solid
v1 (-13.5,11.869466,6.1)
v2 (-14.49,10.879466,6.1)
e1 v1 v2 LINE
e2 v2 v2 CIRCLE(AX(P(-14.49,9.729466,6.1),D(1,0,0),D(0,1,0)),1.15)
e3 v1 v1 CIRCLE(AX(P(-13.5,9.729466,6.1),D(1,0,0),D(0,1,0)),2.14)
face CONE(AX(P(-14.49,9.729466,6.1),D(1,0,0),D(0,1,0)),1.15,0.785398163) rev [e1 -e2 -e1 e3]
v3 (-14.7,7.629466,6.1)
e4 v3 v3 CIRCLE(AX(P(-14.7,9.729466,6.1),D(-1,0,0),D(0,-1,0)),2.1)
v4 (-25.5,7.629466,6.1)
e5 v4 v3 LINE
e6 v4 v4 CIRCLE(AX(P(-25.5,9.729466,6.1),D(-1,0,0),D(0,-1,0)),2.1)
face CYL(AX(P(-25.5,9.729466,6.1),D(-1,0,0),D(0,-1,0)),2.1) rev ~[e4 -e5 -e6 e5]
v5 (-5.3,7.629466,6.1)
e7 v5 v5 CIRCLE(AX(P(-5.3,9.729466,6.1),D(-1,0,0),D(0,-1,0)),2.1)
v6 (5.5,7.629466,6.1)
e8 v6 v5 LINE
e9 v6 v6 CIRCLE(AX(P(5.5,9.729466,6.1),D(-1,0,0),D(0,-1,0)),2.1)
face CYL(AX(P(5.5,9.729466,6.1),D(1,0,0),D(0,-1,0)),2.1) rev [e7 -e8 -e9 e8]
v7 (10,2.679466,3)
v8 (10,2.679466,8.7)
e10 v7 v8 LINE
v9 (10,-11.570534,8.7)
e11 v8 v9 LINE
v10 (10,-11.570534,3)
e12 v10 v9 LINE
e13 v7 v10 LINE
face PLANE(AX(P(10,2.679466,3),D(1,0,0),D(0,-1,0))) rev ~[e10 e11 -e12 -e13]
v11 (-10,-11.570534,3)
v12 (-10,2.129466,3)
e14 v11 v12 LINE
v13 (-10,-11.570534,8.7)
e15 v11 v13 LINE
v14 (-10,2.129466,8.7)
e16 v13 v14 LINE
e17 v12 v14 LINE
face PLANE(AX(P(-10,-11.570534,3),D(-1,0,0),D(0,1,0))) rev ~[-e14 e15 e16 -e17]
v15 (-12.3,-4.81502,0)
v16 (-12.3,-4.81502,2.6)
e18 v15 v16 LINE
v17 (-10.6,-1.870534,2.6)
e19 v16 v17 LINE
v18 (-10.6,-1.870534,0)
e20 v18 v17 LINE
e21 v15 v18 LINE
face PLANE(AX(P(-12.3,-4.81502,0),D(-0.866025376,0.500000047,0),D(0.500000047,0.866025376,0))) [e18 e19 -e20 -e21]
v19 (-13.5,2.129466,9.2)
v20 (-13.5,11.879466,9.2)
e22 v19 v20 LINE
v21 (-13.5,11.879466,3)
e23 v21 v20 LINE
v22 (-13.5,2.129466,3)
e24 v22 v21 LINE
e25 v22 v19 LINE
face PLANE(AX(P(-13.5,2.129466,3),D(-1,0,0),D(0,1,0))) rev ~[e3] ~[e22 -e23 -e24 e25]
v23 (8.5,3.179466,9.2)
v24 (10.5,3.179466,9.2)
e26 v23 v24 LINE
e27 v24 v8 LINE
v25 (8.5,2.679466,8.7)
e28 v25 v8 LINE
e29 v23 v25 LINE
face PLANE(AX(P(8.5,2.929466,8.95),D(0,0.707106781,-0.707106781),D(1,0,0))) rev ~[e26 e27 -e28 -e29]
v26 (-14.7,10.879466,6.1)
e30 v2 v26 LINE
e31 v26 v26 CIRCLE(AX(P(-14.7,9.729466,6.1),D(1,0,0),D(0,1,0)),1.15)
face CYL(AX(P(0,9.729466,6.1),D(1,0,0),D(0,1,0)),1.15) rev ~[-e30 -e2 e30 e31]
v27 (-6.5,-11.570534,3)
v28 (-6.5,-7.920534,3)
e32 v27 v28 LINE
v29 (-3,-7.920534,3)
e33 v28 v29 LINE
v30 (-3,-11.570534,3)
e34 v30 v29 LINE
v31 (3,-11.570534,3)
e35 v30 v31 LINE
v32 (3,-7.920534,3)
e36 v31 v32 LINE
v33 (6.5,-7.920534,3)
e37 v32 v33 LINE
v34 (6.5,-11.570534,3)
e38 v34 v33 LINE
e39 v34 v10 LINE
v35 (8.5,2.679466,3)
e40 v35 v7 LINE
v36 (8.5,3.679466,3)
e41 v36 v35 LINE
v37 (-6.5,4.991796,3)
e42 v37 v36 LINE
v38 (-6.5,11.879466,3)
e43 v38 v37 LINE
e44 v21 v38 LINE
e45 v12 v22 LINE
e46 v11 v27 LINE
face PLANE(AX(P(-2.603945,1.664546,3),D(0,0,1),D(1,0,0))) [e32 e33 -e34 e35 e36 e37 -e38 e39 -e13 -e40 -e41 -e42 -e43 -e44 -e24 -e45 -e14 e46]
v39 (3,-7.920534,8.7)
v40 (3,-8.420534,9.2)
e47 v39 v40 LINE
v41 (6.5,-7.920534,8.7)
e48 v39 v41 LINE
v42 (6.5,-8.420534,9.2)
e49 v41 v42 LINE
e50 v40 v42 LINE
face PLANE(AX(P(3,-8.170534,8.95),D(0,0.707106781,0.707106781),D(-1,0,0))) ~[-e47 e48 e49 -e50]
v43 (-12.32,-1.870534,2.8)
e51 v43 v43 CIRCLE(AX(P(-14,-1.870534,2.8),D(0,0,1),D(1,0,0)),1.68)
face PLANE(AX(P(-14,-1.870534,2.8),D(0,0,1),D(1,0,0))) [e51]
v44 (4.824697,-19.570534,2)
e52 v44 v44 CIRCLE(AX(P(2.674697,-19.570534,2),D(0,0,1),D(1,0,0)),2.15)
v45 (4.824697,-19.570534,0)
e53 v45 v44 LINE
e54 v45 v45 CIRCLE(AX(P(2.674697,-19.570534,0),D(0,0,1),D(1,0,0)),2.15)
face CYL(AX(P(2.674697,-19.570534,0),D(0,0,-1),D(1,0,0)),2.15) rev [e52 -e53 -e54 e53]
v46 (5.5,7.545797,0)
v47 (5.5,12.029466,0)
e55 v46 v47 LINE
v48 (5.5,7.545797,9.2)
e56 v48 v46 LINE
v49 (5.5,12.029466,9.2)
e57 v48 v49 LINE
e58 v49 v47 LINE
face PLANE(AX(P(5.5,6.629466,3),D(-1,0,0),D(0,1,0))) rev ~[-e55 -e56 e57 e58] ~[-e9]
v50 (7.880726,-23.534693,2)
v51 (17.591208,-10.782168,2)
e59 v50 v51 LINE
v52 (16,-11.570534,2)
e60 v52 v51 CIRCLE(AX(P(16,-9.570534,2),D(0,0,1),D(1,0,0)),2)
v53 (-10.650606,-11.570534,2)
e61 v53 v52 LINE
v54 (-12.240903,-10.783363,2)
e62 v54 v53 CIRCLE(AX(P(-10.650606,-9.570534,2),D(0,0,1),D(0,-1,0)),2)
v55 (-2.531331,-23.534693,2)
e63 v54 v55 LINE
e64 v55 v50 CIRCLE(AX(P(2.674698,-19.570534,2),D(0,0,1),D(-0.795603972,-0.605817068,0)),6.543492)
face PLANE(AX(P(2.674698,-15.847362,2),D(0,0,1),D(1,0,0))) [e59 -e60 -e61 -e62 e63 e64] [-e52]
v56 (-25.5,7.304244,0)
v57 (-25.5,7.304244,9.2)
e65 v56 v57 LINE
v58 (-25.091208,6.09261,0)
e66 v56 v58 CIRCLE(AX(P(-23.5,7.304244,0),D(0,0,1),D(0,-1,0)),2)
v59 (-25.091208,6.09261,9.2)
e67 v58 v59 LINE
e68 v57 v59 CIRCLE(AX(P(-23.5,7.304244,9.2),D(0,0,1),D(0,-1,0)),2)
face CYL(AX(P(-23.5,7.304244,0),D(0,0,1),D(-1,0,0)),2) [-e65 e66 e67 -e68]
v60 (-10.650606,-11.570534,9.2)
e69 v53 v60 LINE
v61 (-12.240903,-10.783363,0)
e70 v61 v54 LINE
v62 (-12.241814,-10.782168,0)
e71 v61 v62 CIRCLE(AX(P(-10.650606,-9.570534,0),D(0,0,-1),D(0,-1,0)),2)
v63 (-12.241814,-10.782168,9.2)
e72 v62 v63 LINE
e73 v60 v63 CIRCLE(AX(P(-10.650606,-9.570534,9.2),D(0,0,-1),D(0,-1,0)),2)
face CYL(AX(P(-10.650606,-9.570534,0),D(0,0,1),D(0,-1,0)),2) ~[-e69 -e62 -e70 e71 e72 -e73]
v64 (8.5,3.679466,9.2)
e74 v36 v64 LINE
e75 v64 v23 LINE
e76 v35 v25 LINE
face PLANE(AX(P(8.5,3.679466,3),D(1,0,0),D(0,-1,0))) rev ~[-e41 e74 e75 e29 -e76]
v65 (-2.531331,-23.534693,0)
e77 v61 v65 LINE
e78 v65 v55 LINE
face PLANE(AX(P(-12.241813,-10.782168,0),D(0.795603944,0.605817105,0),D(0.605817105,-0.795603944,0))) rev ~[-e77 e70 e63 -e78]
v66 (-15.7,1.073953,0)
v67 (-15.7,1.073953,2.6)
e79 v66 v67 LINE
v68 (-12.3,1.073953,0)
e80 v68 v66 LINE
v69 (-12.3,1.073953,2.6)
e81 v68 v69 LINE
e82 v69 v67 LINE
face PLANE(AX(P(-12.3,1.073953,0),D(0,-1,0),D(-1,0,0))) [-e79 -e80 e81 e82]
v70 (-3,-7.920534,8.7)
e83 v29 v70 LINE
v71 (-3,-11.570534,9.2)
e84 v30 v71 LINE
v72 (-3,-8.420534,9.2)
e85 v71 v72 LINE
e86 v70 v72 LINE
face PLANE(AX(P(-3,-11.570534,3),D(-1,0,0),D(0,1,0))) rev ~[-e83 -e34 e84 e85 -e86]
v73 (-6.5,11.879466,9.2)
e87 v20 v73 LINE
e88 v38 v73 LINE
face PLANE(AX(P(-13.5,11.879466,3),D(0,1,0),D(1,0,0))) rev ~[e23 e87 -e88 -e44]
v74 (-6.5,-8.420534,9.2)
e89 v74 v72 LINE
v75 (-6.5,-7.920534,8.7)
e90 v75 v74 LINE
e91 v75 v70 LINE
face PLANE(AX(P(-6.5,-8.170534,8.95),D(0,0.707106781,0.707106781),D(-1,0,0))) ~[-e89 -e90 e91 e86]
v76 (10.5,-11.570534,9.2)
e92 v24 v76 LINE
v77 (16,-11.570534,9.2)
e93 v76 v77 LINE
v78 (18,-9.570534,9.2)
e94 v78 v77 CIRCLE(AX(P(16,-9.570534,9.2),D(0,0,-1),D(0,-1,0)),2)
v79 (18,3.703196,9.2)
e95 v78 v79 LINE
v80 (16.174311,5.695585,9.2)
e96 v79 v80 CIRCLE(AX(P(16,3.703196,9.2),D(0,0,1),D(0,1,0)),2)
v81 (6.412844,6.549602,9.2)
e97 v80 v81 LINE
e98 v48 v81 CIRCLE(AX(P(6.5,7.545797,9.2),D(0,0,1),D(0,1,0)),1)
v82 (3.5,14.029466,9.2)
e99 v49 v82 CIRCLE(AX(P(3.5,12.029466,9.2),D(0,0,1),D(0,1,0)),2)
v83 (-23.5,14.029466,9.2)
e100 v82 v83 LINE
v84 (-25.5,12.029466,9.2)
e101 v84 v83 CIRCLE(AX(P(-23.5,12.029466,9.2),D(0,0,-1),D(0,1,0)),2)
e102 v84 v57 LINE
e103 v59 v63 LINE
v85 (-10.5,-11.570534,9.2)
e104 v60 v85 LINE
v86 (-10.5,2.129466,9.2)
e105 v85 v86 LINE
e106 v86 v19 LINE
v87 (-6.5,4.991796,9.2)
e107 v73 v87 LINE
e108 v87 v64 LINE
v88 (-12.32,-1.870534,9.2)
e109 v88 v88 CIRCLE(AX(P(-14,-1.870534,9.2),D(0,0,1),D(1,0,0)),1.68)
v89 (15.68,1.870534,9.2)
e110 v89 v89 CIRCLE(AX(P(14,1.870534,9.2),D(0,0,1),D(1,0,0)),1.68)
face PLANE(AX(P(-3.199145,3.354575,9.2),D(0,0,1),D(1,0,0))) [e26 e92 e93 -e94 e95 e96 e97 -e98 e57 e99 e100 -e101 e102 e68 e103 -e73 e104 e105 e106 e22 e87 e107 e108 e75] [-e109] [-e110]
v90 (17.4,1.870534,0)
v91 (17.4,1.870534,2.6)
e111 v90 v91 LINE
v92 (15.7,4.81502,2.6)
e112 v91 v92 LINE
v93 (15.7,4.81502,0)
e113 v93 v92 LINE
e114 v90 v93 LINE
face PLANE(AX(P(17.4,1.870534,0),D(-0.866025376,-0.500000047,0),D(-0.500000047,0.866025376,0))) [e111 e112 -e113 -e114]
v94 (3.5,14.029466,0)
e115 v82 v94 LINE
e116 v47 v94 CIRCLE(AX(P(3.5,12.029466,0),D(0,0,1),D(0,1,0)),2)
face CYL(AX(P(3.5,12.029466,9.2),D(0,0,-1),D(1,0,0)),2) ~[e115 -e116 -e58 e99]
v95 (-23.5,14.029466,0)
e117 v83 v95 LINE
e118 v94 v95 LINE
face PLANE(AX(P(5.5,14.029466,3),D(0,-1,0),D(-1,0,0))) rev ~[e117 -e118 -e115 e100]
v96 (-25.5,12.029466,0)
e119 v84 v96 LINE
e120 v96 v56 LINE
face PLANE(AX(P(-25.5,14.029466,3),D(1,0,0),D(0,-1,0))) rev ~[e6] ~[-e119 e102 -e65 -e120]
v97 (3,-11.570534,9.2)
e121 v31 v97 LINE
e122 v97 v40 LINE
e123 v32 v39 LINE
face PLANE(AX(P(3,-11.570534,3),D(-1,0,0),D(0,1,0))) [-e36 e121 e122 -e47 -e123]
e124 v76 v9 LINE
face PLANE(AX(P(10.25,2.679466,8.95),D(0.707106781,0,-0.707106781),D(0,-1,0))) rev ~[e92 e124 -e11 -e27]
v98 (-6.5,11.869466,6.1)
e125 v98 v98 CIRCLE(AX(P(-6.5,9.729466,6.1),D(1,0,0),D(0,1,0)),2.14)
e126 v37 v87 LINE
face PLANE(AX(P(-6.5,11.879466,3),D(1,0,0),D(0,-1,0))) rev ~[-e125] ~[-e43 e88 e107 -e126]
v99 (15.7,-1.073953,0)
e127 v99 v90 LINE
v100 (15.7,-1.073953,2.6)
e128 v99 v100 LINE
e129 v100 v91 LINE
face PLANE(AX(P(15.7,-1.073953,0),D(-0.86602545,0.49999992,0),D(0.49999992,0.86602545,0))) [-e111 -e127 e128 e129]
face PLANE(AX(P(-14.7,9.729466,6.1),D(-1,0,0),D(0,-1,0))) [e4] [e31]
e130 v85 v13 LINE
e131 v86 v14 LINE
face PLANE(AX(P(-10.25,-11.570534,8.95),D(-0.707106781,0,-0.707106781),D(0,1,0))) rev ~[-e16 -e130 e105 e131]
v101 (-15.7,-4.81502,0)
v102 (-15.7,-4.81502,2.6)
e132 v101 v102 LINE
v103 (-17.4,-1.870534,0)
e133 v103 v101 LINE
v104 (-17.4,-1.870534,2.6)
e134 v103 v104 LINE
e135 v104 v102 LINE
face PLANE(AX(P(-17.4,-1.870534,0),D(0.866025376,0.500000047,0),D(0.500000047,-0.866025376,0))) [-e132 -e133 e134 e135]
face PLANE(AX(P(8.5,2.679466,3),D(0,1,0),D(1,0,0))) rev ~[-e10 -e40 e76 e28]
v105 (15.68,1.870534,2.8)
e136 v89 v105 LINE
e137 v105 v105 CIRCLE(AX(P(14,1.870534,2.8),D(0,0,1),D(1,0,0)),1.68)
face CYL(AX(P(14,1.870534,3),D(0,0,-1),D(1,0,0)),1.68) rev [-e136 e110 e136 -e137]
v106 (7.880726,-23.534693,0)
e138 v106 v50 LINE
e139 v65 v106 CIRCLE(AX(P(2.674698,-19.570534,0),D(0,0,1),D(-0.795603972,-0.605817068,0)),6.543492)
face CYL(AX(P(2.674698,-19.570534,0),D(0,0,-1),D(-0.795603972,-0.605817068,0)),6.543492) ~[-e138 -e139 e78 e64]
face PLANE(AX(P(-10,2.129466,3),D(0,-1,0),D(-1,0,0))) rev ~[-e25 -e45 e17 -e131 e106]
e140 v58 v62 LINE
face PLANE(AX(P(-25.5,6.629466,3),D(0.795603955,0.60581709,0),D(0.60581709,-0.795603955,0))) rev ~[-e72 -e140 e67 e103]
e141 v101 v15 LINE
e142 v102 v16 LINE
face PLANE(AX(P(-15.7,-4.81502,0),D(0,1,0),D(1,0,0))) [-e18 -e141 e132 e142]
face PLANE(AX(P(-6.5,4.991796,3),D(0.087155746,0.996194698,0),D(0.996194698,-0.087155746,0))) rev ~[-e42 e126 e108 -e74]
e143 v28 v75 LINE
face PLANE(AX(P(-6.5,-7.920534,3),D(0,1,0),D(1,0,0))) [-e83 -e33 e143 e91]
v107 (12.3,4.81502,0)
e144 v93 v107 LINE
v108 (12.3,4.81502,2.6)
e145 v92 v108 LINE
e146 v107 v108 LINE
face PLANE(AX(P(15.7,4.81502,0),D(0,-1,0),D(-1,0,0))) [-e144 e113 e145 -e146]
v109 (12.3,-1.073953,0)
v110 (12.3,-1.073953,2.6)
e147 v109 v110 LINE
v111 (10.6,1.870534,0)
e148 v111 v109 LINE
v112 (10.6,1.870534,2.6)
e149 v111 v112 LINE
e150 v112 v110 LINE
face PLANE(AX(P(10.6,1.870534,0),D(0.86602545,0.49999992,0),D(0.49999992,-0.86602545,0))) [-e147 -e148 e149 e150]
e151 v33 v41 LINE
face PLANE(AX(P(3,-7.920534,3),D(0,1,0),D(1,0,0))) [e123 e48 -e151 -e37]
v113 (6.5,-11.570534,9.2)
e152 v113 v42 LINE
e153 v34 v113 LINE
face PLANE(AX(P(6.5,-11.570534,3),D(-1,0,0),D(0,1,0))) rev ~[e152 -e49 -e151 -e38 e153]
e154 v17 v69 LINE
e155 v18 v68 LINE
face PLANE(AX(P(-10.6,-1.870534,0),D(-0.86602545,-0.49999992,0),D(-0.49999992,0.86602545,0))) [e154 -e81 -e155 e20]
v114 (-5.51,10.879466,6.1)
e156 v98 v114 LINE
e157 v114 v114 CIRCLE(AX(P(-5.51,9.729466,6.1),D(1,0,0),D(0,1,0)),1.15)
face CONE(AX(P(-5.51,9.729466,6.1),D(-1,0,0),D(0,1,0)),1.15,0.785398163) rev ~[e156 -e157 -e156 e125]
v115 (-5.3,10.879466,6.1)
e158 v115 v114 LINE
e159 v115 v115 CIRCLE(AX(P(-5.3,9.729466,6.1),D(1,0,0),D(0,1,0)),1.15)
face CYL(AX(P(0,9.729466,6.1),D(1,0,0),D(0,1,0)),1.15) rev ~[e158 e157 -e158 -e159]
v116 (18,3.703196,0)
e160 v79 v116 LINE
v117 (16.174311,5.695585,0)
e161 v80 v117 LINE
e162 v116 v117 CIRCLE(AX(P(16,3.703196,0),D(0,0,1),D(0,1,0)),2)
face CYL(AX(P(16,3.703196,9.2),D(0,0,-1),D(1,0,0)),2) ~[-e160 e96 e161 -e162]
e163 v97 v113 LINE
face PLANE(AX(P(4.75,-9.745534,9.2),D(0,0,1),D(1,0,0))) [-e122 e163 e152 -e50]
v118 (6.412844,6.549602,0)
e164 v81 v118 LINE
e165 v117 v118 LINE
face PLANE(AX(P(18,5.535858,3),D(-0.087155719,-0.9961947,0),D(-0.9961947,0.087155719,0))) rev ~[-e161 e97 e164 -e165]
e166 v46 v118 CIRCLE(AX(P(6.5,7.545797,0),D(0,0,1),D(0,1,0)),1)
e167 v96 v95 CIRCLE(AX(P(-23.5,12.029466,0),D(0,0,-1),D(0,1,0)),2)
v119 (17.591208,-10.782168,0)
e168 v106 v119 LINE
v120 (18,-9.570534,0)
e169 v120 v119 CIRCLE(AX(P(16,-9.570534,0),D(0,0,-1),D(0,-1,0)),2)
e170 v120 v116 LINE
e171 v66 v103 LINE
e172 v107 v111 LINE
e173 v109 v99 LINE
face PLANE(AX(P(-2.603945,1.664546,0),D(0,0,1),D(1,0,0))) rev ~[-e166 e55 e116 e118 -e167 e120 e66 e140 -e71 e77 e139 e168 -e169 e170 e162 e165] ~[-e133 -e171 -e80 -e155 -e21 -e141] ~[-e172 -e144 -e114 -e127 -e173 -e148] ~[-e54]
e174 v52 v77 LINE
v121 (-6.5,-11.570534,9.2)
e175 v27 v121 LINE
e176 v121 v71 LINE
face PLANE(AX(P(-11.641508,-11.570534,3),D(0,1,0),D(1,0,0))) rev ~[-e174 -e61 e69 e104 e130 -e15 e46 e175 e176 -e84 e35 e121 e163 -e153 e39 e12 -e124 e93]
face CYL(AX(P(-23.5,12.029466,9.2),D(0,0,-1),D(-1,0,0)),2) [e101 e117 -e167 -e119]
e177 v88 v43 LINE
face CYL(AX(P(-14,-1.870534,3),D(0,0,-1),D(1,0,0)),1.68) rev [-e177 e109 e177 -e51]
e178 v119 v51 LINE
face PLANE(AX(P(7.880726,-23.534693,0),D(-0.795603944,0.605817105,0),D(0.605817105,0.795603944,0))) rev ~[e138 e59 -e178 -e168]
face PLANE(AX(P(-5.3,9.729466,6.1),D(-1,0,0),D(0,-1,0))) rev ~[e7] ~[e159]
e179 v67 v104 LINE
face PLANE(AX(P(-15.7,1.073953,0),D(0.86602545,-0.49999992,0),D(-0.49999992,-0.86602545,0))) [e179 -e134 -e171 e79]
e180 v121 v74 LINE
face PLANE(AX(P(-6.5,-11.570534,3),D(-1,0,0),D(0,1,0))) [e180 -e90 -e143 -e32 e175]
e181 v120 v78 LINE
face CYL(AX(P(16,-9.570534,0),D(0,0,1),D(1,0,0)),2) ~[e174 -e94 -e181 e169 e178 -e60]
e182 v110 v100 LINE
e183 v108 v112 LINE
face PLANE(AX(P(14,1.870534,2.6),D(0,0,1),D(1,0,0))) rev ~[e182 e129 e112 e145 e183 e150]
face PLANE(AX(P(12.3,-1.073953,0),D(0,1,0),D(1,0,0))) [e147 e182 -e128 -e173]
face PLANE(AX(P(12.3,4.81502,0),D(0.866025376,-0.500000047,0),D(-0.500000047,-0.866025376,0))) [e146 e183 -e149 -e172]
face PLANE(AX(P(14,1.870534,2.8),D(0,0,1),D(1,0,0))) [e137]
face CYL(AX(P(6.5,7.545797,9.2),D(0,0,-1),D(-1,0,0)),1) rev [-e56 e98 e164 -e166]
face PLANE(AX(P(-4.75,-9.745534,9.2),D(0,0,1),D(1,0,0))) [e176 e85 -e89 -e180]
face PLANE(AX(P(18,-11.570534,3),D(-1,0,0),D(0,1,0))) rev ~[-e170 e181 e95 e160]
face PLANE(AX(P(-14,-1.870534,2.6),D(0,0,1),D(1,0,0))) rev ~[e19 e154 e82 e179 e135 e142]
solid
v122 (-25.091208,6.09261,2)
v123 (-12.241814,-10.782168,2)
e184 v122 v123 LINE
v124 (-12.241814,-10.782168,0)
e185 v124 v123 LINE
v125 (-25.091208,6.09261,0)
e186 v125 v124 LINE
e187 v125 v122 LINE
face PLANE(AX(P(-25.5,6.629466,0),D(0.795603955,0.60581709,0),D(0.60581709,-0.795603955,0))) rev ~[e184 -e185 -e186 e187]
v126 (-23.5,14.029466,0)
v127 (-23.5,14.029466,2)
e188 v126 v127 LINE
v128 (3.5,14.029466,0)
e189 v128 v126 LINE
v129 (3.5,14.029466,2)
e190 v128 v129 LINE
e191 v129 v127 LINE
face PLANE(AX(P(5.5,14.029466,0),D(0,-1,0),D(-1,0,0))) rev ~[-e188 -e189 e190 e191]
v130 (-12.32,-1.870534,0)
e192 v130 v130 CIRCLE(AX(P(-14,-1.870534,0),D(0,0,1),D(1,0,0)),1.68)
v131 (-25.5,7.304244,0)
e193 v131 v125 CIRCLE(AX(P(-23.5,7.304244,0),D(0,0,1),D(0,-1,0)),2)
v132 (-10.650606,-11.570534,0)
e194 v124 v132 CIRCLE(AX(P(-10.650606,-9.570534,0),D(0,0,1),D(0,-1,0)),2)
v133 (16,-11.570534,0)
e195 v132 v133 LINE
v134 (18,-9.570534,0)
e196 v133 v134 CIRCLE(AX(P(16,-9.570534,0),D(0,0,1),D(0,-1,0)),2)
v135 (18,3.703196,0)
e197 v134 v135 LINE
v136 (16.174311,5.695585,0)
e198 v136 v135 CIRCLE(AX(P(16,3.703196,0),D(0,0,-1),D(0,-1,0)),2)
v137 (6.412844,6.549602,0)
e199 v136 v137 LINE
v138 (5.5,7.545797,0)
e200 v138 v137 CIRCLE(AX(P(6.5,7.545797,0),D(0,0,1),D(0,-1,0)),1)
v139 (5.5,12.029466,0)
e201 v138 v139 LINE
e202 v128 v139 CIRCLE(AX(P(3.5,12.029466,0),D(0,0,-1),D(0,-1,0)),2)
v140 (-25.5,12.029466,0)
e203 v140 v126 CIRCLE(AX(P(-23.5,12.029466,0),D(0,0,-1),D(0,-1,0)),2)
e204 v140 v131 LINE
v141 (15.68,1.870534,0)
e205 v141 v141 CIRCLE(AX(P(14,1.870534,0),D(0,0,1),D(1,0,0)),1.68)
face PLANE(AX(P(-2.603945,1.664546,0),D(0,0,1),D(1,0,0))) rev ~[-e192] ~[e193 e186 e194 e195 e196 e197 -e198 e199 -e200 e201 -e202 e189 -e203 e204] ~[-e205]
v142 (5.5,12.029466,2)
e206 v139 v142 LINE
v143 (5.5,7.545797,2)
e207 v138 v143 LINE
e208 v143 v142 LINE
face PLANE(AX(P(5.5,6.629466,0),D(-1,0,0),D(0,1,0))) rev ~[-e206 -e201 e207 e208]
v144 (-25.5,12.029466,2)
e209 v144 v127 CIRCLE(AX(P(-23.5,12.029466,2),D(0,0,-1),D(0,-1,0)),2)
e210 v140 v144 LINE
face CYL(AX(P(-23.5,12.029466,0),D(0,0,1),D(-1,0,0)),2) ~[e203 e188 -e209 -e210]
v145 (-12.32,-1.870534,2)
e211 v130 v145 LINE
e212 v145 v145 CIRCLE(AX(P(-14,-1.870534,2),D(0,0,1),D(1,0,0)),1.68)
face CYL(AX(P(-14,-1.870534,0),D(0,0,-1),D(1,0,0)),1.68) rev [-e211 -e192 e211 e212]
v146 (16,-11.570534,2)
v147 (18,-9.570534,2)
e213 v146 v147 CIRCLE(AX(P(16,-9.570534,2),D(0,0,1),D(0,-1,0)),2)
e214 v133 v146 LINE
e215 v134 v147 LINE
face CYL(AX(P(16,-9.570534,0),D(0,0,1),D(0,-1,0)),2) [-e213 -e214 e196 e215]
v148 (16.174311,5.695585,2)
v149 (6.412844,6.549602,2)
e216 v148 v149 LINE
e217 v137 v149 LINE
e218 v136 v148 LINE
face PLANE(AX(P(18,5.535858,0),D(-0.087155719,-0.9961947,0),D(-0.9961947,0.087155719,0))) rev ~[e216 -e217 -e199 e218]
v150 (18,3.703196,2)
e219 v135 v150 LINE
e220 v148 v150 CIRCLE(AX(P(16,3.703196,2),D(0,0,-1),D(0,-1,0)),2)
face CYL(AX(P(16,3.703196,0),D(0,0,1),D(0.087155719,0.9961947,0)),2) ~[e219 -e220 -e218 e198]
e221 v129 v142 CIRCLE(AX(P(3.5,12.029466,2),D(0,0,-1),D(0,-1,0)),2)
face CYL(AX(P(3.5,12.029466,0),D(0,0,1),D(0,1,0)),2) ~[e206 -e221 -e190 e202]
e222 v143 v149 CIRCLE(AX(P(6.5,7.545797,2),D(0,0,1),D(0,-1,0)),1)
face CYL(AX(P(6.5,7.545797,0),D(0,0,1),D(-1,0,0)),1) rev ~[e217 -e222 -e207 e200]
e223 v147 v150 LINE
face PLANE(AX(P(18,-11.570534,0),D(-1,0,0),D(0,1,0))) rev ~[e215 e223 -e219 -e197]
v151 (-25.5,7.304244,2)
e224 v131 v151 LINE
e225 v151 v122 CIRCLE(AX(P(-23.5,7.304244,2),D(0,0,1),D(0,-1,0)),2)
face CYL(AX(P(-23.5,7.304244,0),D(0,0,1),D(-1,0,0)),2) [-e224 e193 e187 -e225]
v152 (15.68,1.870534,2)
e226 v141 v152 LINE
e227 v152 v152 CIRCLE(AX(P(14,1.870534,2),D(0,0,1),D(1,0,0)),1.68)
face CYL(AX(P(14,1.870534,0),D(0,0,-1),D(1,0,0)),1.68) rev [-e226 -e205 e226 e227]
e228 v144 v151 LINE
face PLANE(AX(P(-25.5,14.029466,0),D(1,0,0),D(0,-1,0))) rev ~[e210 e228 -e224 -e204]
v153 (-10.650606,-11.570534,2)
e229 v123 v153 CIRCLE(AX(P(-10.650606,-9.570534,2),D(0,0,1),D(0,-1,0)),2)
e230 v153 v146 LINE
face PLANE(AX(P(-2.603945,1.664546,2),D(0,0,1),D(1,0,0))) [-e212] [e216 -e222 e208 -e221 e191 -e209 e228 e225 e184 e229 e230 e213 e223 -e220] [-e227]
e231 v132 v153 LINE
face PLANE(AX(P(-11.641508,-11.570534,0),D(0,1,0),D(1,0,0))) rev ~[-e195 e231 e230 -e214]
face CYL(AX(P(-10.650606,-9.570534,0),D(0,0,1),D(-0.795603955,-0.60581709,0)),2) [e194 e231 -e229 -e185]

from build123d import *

# Parameters (mm, degrees)
SKETCH007_R       = 1.68
PAD002_DEPTH      = 2
FILLET002_R       = 2
FILLET003_R       = 1
PAD_DEPTH         = 3
POCKET003_DEPTH   = 2.6
SKETCH009_R       = 1.68
POCKET004_DEPTH   = 0.2
SKETCH004_R       = 1.68
SKETCH004_W       = 3.5
SKETCH004_H       = 3.65
PAD001_DEPTH      = 6.2
FILLET_R          = 2
FILLET001_R       = 1
SKETCH003_R       = 1.15
POCKET_DEPTH      = 25.501
POCKET_DEPTH_BACK = 18.001
CHAMFER_SIZE      = 0.99
SKETCH005_R       = 2.1
POCKET001_DEPTH   = 10.8
SKETCH006_R       = 2.1
POCKET002_DEPTH   = 10.8
CHAMFER001_SIZE   = 0.5
SKETCH010_R       = 2.15
PAD003_DEPTH      = 2


with BuildPart() as lid:
    # Sketch007 → Pad002 (new body)
    with BuildSketch(Plane.XY):
        Polygon((-25.5, 14.029466), (-25.5, 6.629466), (-11.641508, -11.570534), (18, -11.570534), (18, 5.535858), (5.5, 6.629466), (5.5, 14.029466), align=None)
        with Locations((-14, -1.870534)):
            Circle(SKETCH007_R, mode=Mode.SUBTRACT)
        with Locations((14, 1.870534)):
            Circle(SKETCH007_R, mode=Mode.SUBTRACT)
    extrude(amount=PAD002_DEPTH)

    # Fillet002
    fillet002_edges = [lid.edges().sort_by_distance(p)[0] for p in [
        (-25.5, 14.029466, 1),
        (5.5, 14.029466, 1),
        (18, 5.535858, 1),
        (18, -11.570534, 1),
        (-11.641508, -11.570534, 1),
        (-25.5, 6.629466, 1),
    ]]
    fillet(fillet002_edges, radius=FILLET002_R)

    # Fillet003
    fillet003_edges = [lid.edges().sort_by_distance(p)[0] for p in [
        (5.5, 6.629466, 1),
    ]]
    fillet(fillet003_edges, radius=FILLET003_R)


with BuildPart() as fixswitchbay:
    # Sketch001 → Pad (new body)
    with BuildSketch(Plane.XY):
        Polygon((-25.5, 14.029466), (-25.5, 6.629466), (-11.641508, -11.570534), (18, -11.570534), (18, 5.535858), (5.5, 6.629466), (5.5, 14.029466), align=None)
    extrude(amount=PAD_DEPTH)

    # Sketch008 → Pocket003 (cut)
    with BuildSketch(Plane.XY):
        Polygon((10.6, 1.870534), (12.3, -1.073953), (15.7, -1.073953), (17.4, 1.870534), (15.7, 4.81502), (12.3, 4.81502), align=None)
        Polygon((-12.3, 1.073953), (-15.7, 1.073953), (-17.4, -1.870534), (-15.7, -4.81502), (-12.3, -4.81502), (-10.6, -1.870534), align=None)
    extrude(amount=POCKET003_DEPTH, mode=Mode.SUBTRACT)

    # Sketch009 → Pocket004 (cut)
    with BuildSketch(Plane.XY.offset(3)):
        with Locations((14, 1.870534)):
            Circle(SKETCH009_R)
        with Locations((-14, -1.870534)):
            Circle(SKETCH009_R)
    extrude(amount=-POCKET004_DEPTH, mode=Mode.SUBTRACT)

    # Sketch004 → Pad001 (join)
    with BuildSketch(Plane.XY.offset(3)):
        Polygon((-25.5, 14.029466), (-25.5, 6.629466), (-11.641508, -11.570534), (-10, -11.570534), (-10, 2.129466), (-13.5, 2.129466), (-13.5, 11.879466), (-6.5, 11.879466), (-6.5, 4.991796), (8.5, 3.679466), (8.5, 2.679466), (10, 2.679466), (10, -11.570534), (18, -11.570534), (18, 5.535858), (5.5, 6.629466), (5.5, 14.029466), align=None)
        with Locations((-14, -1.870534)):
            Circle(SKETCH004_R, mode=Mode.SUBTRACT)
        with Locations((14, 1.870534)):
            Circle(SKETCH004_R, mode=Mode.SUBTRACT)
        with Locations((-4.75, -9.745534)):
            Rectangle(SKETCH004_W, SKETCH004_H)
        with Locations((4.75, -9.745534)):
            Rectangle(SKETCH004_W, SKETCH004_H)
    extrude(amount=PAD001_DEPTH)

    # Fillet
    fillet_edges = [fixswitchbay.edges().sort_by_distance(p)[0] for p in [
        (-25.5, 6.629466, 4.6),
        (-25.5, 14.029466, 4.6),
        (-11.641508, -11.570534, 4.6),
        (18, -11.570534, 4.6),
        (5.5, 14.029466, 4.6),
        (18, 5.535858, 4.6),
    ]]
    fillet(fillet_edges, radius=FILLET_R)

    # Fillet001
    fillet001_edges = [fixswitchbay.edges().sort_by_distance(p)[0] for p in [
        (5.5, 6.629466, 4.6),
    ]]
    fillet(fillet001_edges, radius=FILLET001_R)

    # Sketch003 → Pocket (cut, two sides)
    with BuildSketch(Plane.YZ) as pocket_sk:
        with Locations((9.729466, 6.1)):
            Circle(SKETCH003_R)
    extrude(amount=-POCKET_DEPTH, mode=Mode.SUBTRACT)
    extrude(pocket_sk.sketch, amount=POCKET_DEPTH_BACK, mode=Mode.SUBTRACT)

    # Chamfer
    chamfer_edges = [fixswitchbay.edges().sort_by_distance(p)[0] for p in [
        (-6.5, 8.579466, 6.1),
        (-13.5, 8.579466, 6.1),
    ]]
    chamfer(chamfer_edges, length=CHAMFER_SIZE)

    # Sketch005 (on DatumPlane) → Pocket001 (cut)
    with BuildSketch(Plane(origin=(5.5, 9.729466, 0), x_dir=(0, -1, 0), z_dir=(-1, 0, 0))):
        with Locations((0, 6.1)):
            Circle(SKETCH005_R)
    extrude(amount=POCKET001_DEPTH, mode=Mode.SUBTRACT)

    # Sketch006 (on DatumPlane) → Pocket002 (cut)
    with BuildSketch(Plane(origin=(-25.5, 9.729466, 0), x_dir=(0, -1, 0), z_dir=(-1, 0, 0))):
        with Locations((0, 6.1)):
            Circle(SKETCH006_R)
    extrude(amount=-POCKET002_DEPTH, mode=Mode.SUBTRACT)

    # Chamfer001
    chamfer001_edges = [fixswitchbay.edges().sort_by_distance(p)[0] for p in [
        (-10, -4.720534, 9.2),
        (10, -4.445534, 9.2),
        (9.25, 2.679466, 9.2),
        (4.75, -7.920534, 9.2),
        (-4.75, -7.920534, 9.2),
    ]]
    chamfer(chamfer001_edges, length=CHAMFER001_SIZE)

    # Sketch010 → Pad003 (new body)
    with BuildSketch(Plane.XY):
        with BuildLine():
            Line((-12.241813, -10.782168), (-2.531331, -23.534693))
            ThreePointArc((-2.531331, -23.534693), (2.674697, -26.114026), (7.880726, -23.534693))
            Line((7.880726, -23.534693), (17.591208, -10.782168))
            Line((-12.241813, -10.782168), (17.591208, -10.782168))
        make_face()
        with Locations((2.674697, -19.570534)):
            Circle(SKETCH010_R, mode=Mode.SUBTRACT)
    extrude(amount=PAD003_DEPTH)


solid = Compound([lid.part, fixswitchbay.part])
